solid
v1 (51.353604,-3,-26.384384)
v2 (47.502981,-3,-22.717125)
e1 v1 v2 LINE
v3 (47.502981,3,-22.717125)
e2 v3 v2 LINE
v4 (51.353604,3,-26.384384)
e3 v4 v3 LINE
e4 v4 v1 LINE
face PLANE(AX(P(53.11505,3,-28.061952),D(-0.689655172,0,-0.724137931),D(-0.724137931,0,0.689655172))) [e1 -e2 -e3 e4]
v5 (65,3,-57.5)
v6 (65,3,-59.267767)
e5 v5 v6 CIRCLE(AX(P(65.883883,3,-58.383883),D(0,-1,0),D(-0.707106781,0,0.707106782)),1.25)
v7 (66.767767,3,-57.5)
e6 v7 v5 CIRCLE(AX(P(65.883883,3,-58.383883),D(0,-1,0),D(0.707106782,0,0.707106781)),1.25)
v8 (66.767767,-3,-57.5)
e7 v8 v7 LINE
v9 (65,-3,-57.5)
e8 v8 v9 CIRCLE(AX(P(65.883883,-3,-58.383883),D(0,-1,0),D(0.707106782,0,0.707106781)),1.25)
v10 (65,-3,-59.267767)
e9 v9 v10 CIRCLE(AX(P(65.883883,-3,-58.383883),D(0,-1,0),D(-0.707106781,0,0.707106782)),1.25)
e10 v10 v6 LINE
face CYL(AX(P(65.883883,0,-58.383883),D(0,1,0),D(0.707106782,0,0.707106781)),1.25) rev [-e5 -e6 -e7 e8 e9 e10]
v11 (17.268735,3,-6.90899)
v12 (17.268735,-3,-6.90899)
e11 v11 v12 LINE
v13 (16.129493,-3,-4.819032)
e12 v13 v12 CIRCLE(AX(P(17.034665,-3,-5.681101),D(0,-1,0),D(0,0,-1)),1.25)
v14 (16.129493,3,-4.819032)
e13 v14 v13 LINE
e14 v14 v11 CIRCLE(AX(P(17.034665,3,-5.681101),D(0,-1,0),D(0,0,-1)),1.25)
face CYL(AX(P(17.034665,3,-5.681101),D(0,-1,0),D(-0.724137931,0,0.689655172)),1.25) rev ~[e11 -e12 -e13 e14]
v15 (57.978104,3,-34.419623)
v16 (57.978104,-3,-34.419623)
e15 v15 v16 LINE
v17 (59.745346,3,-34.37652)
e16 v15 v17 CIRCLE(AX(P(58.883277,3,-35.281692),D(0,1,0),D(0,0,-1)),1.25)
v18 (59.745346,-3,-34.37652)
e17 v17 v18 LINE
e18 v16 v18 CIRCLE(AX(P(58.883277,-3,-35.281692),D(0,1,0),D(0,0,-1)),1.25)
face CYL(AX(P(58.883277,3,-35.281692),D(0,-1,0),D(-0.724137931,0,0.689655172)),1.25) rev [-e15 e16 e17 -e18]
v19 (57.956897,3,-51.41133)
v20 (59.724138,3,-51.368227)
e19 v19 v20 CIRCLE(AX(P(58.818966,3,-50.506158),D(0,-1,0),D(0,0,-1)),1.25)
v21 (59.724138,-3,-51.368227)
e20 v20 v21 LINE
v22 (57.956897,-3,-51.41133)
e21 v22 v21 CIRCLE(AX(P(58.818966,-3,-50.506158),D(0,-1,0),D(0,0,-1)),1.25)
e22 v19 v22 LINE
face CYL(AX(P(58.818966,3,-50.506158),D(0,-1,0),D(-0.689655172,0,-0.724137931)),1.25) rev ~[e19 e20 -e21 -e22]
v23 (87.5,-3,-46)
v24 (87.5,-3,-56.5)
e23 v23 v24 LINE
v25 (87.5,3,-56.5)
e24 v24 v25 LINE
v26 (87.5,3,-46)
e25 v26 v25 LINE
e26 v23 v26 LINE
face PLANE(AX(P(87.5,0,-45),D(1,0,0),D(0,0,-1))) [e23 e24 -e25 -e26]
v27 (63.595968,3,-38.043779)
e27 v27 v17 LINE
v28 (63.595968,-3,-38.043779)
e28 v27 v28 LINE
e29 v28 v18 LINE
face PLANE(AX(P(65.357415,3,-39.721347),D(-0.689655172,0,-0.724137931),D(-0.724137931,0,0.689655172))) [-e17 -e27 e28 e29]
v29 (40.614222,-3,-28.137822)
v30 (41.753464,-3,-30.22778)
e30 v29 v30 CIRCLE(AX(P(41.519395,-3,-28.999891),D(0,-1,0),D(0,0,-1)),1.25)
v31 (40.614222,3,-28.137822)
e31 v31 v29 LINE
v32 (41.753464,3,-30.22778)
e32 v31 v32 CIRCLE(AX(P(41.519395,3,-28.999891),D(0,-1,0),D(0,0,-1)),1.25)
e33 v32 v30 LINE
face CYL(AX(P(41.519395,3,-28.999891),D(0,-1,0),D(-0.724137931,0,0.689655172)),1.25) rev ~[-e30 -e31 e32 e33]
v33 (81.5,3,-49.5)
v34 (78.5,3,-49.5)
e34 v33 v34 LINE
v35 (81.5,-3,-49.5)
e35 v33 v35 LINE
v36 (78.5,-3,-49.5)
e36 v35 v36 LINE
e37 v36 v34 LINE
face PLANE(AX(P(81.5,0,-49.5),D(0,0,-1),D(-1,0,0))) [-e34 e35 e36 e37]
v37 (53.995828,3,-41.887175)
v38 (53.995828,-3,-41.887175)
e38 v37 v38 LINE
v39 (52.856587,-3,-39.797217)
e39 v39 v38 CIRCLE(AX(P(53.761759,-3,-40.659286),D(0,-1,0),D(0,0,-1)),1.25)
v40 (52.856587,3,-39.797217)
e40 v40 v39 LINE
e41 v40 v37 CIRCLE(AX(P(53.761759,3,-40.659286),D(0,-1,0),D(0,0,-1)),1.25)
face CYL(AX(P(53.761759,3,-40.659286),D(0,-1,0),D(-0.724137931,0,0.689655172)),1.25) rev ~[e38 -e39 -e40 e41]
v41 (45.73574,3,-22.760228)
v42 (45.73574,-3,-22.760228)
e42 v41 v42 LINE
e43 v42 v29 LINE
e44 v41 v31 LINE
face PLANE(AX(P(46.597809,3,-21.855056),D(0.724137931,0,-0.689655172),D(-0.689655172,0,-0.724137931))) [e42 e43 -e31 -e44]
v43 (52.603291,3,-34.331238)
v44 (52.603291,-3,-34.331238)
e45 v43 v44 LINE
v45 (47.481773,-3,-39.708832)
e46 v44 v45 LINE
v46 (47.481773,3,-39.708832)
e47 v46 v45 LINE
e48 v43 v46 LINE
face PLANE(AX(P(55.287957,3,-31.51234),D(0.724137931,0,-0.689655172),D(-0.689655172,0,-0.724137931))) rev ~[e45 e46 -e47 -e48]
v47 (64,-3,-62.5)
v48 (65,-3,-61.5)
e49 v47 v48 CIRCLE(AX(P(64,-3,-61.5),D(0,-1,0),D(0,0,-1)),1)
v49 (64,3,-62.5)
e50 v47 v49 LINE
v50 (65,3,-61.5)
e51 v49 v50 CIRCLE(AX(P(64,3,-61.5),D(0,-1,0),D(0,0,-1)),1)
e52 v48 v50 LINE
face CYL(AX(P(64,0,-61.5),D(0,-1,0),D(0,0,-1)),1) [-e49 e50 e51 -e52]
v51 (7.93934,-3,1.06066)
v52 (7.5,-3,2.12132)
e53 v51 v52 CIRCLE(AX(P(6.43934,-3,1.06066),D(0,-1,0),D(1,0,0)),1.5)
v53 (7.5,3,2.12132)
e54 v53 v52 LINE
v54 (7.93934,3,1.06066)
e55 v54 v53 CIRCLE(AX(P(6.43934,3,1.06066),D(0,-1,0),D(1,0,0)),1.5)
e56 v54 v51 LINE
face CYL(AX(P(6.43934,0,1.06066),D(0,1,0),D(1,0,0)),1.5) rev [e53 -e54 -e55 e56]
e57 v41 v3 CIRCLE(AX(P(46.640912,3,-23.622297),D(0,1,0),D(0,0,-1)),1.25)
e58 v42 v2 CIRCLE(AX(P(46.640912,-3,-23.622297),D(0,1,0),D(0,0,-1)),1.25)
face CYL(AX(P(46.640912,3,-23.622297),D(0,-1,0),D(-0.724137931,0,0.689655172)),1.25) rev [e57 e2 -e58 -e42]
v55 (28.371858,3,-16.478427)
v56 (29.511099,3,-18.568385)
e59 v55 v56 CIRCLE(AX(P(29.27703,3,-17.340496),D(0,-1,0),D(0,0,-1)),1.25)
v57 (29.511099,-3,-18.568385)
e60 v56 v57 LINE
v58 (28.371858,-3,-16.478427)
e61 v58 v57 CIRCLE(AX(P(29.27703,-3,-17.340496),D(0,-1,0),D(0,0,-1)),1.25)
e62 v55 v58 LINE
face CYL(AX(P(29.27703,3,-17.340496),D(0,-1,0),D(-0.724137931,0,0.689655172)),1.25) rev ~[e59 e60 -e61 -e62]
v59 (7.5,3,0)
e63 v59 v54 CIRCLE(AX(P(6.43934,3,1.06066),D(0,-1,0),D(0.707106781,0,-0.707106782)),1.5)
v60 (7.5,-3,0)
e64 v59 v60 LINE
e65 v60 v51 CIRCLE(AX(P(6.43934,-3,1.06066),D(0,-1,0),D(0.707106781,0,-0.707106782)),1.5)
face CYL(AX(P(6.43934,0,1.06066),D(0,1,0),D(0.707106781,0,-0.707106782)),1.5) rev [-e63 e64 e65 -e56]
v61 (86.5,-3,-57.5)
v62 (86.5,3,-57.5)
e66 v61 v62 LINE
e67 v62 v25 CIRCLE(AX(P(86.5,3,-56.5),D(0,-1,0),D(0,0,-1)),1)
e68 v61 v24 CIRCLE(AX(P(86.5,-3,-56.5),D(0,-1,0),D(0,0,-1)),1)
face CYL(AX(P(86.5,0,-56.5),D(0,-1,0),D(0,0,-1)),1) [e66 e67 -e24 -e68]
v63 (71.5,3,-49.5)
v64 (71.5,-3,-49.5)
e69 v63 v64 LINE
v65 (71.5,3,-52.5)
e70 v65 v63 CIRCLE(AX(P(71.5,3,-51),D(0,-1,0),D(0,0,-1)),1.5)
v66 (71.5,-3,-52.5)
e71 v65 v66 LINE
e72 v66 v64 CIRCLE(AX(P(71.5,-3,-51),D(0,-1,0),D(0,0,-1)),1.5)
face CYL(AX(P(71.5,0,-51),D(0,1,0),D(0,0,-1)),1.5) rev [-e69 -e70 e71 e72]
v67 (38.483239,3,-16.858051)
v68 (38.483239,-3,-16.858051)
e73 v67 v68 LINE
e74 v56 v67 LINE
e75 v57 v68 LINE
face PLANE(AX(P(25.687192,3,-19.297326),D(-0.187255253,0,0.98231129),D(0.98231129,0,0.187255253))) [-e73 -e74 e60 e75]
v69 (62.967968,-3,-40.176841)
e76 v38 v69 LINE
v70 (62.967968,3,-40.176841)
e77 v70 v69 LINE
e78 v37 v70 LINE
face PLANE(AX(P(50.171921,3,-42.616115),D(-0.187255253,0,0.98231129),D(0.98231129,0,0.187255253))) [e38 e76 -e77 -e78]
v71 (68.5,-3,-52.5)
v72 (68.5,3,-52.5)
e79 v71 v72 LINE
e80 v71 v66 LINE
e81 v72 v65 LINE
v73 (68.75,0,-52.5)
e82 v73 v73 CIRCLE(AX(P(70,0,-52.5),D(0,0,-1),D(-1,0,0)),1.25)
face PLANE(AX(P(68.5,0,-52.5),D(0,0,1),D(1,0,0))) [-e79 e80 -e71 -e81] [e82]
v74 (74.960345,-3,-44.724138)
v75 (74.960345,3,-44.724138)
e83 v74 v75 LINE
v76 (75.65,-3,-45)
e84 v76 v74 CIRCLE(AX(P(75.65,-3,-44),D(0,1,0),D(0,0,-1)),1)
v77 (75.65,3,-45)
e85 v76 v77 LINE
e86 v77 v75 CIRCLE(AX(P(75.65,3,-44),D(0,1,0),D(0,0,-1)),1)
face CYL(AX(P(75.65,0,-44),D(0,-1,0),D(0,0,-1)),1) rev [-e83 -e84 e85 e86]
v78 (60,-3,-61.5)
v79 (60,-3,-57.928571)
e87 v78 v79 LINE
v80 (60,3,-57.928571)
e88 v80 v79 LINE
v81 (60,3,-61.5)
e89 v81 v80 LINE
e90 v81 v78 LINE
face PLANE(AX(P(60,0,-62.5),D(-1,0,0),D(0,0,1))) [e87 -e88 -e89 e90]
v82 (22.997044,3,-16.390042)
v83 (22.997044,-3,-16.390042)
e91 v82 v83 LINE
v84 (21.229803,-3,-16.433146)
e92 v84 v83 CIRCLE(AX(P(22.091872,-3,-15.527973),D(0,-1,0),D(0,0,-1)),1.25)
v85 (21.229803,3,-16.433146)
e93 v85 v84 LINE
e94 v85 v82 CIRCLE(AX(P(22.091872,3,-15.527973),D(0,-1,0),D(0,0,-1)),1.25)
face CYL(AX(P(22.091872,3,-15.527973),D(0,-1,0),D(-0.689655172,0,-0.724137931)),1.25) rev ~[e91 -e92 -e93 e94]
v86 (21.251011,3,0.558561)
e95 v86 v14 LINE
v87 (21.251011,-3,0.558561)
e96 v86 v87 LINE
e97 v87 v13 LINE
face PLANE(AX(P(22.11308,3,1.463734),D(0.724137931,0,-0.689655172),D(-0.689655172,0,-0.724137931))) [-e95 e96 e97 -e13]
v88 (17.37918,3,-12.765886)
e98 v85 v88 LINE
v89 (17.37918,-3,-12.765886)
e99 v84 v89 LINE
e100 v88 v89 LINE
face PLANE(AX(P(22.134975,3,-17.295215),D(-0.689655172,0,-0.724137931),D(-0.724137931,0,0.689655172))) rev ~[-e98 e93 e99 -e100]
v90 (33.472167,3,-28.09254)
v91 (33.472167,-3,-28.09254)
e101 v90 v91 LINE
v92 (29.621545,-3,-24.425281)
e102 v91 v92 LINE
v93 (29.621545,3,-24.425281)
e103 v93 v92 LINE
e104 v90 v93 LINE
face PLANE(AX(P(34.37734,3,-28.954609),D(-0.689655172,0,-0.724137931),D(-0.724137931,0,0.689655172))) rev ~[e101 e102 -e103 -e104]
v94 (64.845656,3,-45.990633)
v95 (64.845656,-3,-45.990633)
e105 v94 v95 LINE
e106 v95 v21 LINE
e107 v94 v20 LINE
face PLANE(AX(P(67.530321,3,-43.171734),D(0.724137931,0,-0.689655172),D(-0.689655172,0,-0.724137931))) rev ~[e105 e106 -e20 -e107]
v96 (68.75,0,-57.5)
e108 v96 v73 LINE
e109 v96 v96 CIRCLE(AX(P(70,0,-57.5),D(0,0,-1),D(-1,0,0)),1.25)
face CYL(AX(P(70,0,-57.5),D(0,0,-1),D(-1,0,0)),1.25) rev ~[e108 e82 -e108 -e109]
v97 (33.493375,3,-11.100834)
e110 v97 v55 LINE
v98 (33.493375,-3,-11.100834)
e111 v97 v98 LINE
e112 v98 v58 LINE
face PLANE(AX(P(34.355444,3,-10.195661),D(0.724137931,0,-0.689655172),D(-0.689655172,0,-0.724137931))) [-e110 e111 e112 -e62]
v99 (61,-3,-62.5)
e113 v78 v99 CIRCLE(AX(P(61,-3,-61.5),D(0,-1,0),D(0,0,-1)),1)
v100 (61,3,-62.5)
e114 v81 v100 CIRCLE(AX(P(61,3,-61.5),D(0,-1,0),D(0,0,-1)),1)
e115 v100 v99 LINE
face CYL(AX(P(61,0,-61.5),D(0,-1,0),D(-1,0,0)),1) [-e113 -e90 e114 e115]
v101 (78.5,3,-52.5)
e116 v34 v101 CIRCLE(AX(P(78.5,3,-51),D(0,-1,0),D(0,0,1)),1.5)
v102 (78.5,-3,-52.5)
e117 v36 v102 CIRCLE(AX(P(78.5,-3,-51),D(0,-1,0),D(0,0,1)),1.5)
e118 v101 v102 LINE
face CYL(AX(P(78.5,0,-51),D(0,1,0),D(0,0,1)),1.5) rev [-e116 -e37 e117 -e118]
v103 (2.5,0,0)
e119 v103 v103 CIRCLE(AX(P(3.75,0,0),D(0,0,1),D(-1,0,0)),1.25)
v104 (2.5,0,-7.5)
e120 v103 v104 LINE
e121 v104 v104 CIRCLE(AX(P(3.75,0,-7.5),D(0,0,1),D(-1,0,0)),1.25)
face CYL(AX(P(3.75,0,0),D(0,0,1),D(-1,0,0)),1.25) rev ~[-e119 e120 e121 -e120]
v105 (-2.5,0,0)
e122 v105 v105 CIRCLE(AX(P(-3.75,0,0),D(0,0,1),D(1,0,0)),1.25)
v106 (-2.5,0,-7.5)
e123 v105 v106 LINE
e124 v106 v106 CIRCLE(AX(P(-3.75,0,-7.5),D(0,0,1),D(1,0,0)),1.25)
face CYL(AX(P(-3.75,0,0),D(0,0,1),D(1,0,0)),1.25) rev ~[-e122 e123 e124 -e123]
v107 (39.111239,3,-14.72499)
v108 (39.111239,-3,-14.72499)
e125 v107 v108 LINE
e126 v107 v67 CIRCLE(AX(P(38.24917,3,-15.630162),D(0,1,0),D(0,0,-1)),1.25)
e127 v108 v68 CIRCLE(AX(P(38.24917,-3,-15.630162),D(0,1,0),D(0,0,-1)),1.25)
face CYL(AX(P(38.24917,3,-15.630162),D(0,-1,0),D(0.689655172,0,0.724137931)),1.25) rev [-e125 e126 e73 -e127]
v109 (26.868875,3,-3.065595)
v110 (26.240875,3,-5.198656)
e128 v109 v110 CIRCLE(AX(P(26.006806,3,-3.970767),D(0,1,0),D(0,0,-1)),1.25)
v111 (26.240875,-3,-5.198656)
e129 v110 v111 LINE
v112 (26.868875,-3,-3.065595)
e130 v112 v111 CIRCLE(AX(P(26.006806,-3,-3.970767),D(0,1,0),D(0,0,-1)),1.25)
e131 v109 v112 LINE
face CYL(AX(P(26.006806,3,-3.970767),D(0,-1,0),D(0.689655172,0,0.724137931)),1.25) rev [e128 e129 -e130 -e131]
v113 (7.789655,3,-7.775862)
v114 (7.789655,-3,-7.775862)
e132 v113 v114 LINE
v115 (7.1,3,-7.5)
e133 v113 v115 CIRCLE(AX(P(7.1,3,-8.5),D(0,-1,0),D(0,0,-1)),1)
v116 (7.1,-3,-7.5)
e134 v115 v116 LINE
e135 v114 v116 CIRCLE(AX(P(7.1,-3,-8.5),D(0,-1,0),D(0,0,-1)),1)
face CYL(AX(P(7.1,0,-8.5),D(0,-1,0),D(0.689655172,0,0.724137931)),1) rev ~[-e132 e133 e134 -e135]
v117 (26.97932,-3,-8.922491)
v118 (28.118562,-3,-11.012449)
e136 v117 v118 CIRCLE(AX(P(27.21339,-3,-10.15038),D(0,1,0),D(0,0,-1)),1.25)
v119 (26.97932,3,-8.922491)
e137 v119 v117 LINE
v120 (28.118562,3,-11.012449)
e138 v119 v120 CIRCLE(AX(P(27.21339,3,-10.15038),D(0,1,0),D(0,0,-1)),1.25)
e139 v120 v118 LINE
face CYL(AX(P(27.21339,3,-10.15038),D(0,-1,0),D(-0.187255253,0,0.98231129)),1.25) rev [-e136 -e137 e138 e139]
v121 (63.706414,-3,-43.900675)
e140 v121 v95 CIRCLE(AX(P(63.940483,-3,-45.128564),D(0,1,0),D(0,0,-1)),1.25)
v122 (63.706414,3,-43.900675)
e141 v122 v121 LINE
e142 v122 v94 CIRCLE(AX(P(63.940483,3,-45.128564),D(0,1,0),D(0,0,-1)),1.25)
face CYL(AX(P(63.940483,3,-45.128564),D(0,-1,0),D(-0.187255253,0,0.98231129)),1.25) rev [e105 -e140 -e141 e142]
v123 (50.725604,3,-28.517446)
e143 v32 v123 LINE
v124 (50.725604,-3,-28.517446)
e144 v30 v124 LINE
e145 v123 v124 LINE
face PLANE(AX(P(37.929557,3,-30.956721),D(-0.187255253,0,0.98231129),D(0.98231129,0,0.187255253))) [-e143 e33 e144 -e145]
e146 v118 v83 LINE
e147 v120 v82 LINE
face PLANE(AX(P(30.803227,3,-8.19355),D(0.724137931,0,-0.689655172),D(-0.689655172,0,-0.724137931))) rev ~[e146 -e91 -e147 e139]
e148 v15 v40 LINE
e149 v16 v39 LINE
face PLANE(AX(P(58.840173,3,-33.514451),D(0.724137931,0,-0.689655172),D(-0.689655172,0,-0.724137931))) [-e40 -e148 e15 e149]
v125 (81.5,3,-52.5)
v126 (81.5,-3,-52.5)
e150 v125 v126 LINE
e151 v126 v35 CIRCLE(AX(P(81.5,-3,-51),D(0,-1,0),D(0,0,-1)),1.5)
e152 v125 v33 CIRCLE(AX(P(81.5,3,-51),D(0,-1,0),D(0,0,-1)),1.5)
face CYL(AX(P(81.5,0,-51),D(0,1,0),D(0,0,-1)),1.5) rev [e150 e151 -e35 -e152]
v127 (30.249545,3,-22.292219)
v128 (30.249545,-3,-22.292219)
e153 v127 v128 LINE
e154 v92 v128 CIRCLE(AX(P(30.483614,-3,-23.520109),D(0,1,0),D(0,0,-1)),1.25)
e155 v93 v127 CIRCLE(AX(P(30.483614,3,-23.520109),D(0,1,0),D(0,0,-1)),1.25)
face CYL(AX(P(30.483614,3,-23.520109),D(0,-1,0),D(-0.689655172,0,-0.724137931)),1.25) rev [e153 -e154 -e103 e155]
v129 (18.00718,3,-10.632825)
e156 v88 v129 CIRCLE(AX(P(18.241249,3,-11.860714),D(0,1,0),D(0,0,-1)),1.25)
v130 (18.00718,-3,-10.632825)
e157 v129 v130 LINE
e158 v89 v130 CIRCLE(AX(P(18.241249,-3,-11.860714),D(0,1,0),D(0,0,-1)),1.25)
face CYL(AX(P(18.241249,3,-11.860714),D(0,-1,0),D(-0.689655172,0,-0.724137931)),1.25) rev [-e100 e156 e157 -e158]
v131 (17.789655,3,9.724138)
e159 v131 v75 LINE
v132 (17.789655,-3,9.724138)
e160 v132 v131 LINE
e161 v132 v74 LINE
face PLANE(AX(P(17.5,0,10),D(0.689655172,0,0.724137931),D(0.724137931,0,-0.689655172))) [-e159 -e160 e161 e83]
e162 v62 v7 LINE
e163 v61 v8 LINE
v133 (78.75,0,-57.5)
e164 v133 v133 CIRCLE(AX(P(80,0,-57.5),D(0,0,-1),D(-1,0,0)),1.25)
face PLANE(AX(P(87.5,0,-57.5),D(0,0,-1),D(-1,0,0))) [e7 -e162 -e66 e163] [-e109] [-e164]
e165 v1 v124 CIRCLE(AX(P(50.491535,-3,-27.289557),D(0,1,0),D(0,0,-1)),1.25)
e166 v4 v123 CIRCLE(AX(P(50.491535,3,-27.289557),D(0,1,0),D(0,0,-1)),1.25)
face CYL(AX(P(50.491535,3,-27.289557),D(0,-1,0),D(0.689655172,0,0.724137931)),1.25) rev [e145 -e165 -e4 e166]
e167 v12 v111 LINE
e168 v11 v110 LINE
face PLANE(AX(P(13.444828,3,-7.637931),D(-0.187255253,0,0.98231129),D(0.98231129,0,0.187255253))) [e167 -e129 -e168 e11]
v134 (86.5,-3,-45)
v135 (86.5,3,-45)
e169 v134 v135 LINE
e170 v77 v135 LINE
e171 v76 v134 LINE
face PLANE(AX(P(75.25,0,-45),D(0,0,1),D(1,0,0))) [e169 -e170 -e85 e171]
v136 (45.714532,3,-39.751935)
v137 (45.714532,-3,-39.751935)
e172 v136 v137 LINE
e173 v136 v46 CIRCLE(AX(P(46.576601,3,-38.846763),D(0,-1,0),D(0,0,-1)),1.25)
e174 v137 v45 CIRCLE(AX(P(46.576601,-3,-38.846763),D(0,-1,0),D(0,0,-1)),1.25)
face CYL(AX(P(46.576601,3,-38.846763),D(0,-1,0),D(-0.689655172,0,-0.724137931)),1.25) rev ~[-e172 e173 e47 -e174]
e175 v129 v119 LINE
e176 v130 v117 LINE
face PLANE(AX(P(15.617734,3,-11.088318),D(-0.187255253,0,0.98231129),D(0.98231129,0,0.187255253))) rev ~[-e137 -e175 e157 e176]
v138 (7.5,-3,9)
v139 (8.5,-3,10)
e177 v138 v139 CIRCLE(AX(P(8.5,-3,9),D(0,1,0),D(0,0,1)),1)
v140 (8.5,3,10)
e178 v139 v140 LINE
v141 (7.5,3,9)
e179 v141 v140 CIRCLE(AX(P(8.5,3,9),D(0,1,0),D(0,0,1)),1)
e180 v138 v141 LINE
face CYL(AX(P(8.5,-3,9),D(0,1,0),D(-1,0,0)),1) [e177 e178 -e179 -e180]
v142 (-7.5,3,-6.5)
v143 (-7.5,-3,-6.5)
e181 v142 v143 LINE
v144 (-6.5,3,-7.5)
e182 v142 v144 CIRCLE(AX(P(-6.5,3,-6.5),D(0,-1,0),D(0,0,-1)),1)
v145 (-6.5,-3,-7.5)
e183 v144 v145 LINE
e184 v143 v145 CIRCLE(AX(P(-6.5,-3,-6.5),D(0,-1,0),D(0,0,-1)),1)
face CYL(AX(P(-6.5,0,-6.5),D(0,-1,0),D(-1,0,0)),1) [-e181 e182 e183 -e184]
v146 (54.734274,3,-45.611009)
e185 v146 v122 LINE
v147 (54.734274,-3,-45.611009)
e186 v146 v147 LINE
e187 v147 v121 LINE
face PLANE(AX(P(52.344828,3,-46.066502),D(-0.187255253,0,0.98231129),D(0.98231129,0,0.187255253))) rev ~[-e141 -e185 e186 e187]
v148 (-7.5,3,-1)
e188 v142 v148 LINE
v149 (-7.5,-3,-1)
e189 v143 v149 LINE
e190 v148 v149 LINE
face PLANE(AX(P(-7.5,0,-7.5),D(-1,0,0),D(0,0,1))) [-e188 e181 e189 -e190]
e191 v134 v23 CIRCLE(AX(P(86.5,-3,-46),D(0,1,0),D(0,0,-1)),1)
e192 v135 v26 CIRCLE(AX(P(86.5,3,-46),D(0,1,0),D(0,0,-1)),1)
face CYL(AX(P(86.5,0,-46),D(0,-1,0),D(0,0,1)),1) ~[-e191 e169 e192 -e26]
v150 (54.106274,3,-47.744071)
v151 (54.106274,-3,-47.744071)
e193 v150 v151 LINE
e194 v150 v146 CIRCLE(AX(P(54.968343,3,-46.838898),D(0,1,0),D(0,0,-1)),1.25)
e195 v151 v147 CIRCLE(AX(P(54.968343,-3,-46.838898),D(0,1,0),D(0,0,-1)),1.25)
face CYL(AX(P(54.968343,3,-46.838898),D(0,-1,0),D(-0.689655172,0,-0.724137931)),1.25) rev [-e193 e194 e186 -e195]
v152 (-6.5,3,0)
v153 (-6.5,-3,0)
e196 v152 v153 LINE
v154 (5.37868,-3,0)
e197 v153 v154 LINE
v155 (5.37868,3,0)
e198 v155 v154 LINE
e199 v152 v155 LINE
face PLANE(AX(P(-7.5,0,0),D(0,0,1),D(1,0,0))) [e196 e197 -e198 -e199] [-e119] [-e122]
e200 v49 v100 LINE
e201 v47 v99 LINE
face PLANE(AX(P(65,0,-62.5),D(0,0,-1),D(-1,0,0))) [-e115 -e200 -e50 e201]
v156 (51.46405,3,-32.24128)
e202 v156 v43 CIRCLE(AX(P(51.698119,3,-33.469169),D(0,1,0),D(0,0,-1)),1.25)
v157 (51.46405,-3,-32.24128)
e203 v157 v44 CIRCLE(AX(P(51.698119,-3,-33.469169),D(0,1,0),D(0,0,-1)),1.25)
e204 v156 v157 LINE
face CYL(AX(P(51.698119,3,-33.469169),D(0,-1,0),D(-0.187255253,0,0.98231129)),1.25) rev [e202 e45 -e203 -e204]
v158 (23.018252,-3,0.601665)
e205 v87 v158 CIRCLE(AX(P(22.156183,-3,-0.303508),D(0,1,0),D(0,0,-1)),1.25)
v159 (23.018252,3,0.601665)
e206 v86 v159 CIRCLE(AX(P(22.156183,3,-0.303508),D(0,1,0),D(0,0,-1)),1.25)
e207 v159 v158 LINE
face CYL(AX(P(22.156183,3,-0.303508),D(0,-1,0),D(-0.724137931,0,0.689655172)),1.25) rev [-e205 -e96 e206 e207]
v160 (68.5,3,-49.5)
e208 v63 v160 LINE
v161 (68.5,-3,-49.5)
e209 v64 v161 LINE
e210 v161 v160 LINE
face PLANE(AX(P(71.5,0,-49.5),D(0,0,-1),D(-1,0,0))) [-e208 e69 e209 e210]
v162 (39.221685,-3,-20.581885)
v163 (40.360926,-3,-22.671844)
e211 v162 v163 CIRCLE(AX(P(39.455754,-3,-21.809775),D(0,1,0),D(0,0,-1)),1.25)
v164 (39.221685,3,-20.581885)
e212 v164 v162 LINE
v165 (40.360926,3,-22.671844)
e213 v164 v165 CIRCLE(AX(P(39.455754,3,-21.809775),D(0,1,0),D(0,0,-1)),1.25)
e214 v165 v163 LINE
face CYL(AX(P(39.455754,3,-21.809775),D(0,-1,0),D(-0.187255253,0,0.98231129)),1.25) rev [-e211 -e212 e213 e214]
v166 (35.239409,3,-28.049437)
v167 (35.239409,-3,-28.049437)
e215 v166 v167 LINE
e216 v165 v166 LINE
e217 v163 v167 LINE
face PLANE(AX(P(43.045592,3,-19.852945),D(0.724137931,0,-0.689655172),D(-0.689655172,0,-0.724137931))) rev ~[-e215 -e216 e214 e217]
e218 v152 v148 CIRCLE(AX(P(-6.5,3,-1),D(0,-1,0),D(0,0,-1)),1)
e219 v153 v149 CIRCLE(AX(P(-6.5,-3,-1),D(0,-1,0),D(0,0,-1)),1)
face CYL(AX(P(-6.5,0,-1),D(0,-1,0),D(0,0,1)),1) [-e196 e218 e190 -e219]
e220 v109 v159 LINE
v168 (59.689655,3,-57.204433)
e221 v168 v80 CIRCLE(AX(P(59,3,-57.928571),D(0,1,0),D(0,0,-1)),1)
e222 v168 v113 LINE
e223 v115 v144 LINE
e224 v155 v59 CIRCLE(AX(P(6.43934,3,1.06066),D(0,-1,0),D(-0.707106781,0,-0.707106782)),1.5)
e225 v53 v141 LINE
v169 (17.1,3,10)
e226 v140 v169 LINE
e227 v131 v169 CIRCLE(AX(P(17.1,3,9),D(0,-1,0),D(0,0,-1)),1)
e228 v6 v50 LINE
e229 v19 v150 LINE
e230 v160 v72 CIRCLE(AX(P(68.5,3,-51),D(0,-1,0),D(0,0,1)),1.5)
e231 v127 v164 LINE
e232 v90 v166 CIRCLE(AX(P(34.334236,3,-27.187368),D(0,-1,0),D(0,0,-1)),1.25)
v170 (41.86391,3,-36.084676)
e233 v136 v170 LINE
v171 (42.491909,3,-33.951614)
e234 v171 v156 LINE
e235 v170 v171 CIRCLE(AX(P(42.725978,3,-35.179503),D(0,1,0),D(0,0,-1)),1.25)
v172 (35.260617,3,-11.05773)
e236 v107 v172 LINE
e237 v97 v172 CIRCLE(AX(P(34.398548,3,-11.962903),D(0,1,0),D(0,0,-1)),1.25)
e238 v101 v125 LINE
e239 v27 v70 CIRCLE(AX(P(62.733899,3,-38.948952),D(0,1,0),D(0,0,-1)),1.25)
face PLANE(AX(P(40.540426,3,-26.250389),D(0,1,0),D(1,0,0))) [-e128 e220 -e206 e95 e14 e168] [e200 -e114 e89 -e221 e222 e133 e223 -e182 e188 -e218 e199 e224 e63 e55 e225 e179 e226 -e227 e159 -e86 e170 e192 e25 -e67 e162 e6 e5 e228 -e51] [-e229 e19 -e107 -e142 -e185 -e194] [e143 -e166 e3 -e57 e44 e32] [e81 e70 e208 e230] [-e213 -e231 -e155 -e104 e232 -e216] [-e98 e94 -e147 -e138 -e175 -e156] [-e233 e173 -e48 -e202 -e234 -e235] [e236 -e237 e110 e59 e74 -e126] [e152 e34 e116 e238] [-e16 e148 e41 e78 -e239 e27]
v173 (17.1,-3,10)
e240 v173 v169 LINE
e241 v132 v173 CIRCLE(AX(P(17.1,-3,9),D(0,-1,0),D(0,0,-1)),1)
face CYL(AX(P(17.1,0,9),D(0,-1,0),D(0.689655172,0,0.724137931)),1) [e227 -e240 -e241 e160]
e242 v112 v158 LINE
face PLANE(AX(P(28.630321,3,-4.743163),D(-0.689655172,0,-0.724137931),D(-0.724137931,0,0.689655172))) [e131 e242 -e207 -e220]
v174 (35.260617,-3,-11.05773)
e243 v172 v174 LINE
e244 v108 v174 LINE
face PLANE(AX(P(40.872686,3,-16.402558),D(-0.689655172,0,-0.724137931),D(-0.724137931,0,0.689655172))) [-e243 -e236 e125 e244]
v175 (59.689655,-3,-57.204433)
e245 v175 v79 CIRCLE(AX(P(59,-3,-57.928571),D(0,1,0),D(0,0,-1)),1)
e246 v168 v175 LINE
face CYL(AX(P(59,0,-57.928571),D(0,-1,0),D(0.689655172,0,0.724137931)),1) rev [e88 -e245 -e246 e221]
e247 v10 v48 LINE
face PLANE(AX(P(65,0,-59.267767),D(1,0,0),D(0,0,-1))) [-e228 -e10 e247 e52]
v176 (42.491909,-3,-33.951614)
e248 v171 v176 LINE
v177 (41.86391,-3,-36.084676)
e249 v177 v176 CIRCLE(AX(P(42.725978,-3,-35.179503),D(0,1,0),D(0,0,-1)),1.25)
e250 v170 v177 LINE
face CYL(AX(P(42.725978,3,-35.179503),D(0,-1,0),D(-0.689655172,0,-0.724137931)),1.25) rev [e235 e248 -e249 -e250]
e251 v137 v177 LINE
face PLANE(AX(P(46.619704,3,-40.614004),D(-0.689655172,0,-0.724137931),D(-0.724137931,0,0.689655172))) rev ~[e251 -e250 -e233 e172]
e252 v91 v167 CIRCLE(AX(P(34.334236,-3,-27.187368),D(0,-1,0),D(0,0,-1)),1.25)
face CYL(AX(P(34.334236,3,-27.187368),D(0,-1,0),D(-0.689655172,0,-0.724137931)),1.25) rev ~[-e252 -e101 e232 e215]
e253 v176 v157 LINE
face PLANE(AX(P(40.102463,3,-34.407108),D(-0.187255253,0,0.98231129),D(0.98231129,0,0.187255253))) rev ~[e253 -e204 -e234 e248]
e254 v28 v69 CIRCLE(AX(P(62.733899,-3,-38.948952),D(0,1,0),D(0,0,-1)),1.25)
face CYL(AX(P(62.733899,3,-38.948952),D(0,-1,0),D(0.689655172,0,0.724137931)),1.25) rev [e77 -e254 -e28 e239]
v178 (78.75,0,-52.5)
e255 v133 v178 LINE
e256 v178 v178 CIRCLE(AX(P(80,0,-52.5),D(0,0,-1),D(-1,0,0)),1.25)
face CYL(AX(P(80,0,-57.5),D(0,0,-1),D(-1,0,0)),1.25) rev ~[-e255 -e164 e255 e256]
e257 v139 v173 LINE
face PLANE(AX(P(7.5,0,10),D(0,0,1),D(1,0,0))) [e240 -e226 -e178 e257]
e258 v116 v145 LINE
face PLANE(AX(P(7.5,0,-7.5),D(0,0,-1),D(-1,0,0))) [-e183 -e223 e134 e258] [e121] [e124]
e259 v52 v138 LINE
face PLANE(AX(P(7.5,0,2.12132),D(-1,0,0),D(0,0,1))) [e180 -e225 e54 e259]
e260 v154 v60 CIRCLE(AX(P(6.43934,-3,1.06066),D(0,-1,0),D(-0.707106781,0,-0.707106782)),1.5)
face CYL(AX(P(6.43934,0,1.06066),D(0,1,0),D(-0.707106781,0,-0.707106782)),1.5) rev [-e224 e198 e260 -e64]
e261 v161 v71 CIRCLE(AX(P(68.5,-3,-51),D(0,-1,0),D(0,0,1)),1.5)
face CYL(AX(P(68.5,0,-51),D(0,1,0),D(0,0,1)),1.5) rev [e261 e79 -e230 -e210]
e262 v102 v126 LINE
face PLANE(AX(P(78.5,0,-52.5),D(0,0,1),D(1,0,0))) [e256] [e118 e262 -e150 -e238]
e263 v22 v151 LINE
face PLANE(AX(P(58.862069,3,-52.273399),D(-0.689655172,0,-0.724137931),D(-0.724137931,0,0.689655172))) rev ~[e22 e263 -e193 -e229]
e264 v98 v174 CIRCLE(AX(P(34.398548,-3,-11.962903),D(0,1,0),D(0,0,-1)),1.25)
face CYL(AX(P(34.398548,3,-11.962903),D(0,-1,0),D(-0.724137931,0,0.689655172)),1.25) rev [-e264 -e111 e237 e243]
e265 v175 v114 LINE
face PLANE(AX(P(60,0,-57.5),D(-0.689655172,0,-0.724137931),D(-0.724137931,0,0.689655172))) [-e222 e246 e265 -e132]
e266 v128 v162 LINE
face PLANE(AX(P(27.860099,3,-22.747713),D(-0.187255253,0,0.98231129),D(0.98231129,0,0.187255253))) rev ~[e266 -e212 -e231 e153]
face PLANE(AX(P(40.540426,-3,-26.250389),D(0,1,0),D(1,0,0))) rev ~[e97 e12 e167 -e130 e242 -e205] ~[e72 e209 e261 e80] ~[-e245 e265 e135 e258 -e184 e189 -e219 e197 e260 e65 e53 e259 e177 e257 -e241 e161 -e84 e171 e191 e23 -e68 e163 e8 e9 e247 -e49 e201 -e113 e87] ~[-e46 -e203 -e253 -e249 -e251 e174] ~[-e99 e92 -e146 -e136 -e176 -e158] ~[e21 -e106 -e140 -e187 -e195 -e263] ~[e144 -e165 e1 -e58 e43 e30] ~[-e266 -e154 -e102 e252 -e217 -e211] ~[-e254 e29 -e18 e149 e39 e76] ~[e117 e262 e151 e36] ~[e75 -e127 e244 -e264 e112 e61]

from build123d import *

# Parameters (mm, degrees)
EXTRUDE_1_DEPTH     = 3
FILLET_2_R          = 1
CUT_EXTRUDE_1_DEPTH = 6
FILLET_3_R          = 1.25
SKETCH_6_R          = 1.25
CUT_EXTRUDE_4_DEPTH = 108.570906848
SKETCH_7_R          = 1.25
CUT_EXTRUDE_5_DEPTH = 8


with BuildPart() as part:
    # ｽｹｯﾁ1 → ﾎﾞｽ - 押し出し1 (new, symmetric)
    with BuildSketch(Plane(origin=(0, 0, 0), x_dir=(1, 0, 0), z_dir=(0, 1, 0))):
        with BuildLine():
            Line((7.5, -2.121320344), (7.5, -10))
            Line((7.5, -10), (17.5, -10))
            Line((17.5, -10), (75.25, 45))
            Line((75.25, 45), (87.5, 45))
            Line((87.5, 45), (87.5, 57.5))
            Line((87.5, 57.5), (66.767766953, 57.5))
            ThreePointArc((66.767766953, 57.5), (65.883883476, 57.133883476), (65, 57.5))
            ThreePointArc((65, 57.5), (64.633883476, 58.383883476), (65, 59.267766953))
            Line((65, 59.267766953), (65, 62.5))
            Line((65, 62.5), (60, 62.5))
            Line((60, 62.5), (60, 57.5))
            Line((60, 57.5), (7.5, 7.5))
            Line((7.5, 7.5), (-7.5, 7.5))
            Line((-7.5, 7.5), (-7.5, 0))
            Line((-7.5, 0), (5.378679656, 0))
            ThreePointArc((5.378679656, 0), (6.439339828, 0.439339828), (7.5, 0))
            ThreePointArc((7.5, 0), (7.825159127, -0.486635023), (7.939339828, -1.060660172))
            ThreePointArc((7.939339828, -1.060660172), (7.825159127, -1.63468532), (7.5, -2.121320344))
        make_face()
        with BuildLine():
            ThreePointArc((68.5, 49.5), (67, 51), (68.5, 52.5))
            Line((68.5, 52.5), (71.5, 52.5))
            ThreePointArc((71.5, 52.5), (73, 51), (71.5, 49.5))
            Line((71.5, 49.5), (68.5, 49.5))
        make_face(mode=Mode.SUBTRACT)
        with BuildLine():
            ThreePointArc((78.5, 49.5), (77, 51), (78.5, 52.5))
            Line((78.5, 52.5), (81.5, 52.5))
            ThreePointArc((81.5, 52.5), (83, 51), (81.5, 49.5))
            Line((81.5, 49.5), (78.5, 49.5))
        make_face(mode=Mode.SUBTRACT)
    extrude(amount=EXTRUDE_1_DEPTH, both=True)

    # ﾌｨﾚｯﾄ2
    fillet_2_edges = [part.edges().sort_by_distance(p)[0] for p in [
        (87.5, -1.5, -57.5),
        (87.5, -1.5, -45),
        (75.25, -1.5, -45),
        (17.5, -1.5, 10),
        (7.5, -1.5, 10),
        (-7.5, -1.5, 0),
        (-7.5, -1.5, -7.5),
        (7.5, -1.5, -7.5),
        (60, -1.5, -57.5),
        (60, -1.5, -62.5),
        (65, -1.5, -62.5),
    ]]
    fillet(fillet_2_edges, radius=FILLET_2_R)

    # ｽｹｯﾁ2 → ｶｯﾄ - 押し出し1 (cut)
    with BuildSketch(Plane(origin=(0, 3, 0), x_dir=(1, 0, 0), z_dir=(0, 1, 0))):
        Polygon((58.862068966, 52.273399015), (52.344827586, 46.066502463), (67.530321046, 43.17173433), align=None)
        Polygon((50.171921182, 42.616115412), (65.357414642, 39.721347279), (58.840173263, 33.514450727), align=None)
        Polygon((46.619704433, 40.614004222), (40.102463054, 34.407107671), (55.287956514, 31.512339537), align=None)
        Polygon((37.92955665, 30.956720619), (53.11505011, 28.061952486), (46.597808731, 21.855055934), align=None)
        Polygon((34.377339901, 28.95460943), (27.860098522, 22.747712878), (43.045591982, 19.852944745), align=None)
        Polygon((25.687192118, 19.297325827), (40.872685578, 16.402557694), (34.355444199, 10.195661142), align=None)
        Polygon((22.134975369, 17.295214638), (15.61773399, 11.088318086), (30.80322745, 8.193549953), align=None)
        Polygon((13.444827586, 7.637931034), (28.630321046, 4.743162901), (22.113079667, -1.46373365), align=None)
    extrude(amount=-CUT_EXTRUDE_1_DEPTH, mode=Mode.SUBTRACT)

    # ﾌｨﾚｯﾄ3
    fillet_3_edges = [part.edges().sort_by_distance(p)[0] for p in [
        (58.862068966, 0, -52.273399015),
        (67.530321046, 0, -43.17173433),
        (52.344827586, 0, -46.066502463),
        (46.619704433, 0, -40.614004222),
        (55.287956514, 0, -31.512339537),
        (40.102463054, 0, -34.407107671),
        (58.840173263, 0, -33.514450727),
        (50.171921182, 0, -42.616115412),
        (65.357414642, 0, -39.721347279),
        (34.377339901, 0, -28.95460943),
        (43.045591982, 0, -19.852944745),
        (27.860098522, 0, -22.747712878),
        (46.597808731, 0, -21.855055934),
        (37.92955665, 0, -30.956720619),
        (53.11505011, 0, -28.061952486),
        (22.134975369, 0, -17.295214638),
        (30.80322745, 0, -8.193549953),
        (15.61773399, 0, -11.088318086),
        (34.355444199, 0, -10.195661142),
        (25.687192118, 0, -19.297325827),
        (40.872685578, 0, -16.402557694),
        (22.113079667, 0, 1.46373365),
        (13.444827586, 0, -7.637931034),
        (28.630321046, 0, -4.743162901),
    ]]
    fillet(fillet_3_edges, radius=FILLET_3_R)

    # ｽｹｯﾁ6 → ｶｯﾄ - 押し出し4 (cut, through all)
    with BuildSketch(Plane.XY):
        with Locations((-3.75, 0)):
            Circle(SKETCH_6_R)
        with Locations(Location((3.75, 0, 0), (0, 0, 180))):
            Circle(SKETCH_6_R)
    extrude(amount=-CUT_EXTRUDE_4_DEPTH, mode=Mode.SUBTRACT)

    # ｽｹｯﾁ7 → ｶｯﾄ - 押し出し5 (cut)
    with BuildSketch(Plane(origin=(0, 0, -57.5), x_dir=(-1, 0, 0), z_dir=(0, 0, -1))):
        with Locations((-70, 0)):
            Circle(SKETCH_7_R)
        with Locations((-80, 0)):
            Circle(SKETCH_7_R)
    extrude(amount=-CUT_EXTRUDE_5_DEPTH, mode=Mode.SUBTRACT)


solid = part.part
